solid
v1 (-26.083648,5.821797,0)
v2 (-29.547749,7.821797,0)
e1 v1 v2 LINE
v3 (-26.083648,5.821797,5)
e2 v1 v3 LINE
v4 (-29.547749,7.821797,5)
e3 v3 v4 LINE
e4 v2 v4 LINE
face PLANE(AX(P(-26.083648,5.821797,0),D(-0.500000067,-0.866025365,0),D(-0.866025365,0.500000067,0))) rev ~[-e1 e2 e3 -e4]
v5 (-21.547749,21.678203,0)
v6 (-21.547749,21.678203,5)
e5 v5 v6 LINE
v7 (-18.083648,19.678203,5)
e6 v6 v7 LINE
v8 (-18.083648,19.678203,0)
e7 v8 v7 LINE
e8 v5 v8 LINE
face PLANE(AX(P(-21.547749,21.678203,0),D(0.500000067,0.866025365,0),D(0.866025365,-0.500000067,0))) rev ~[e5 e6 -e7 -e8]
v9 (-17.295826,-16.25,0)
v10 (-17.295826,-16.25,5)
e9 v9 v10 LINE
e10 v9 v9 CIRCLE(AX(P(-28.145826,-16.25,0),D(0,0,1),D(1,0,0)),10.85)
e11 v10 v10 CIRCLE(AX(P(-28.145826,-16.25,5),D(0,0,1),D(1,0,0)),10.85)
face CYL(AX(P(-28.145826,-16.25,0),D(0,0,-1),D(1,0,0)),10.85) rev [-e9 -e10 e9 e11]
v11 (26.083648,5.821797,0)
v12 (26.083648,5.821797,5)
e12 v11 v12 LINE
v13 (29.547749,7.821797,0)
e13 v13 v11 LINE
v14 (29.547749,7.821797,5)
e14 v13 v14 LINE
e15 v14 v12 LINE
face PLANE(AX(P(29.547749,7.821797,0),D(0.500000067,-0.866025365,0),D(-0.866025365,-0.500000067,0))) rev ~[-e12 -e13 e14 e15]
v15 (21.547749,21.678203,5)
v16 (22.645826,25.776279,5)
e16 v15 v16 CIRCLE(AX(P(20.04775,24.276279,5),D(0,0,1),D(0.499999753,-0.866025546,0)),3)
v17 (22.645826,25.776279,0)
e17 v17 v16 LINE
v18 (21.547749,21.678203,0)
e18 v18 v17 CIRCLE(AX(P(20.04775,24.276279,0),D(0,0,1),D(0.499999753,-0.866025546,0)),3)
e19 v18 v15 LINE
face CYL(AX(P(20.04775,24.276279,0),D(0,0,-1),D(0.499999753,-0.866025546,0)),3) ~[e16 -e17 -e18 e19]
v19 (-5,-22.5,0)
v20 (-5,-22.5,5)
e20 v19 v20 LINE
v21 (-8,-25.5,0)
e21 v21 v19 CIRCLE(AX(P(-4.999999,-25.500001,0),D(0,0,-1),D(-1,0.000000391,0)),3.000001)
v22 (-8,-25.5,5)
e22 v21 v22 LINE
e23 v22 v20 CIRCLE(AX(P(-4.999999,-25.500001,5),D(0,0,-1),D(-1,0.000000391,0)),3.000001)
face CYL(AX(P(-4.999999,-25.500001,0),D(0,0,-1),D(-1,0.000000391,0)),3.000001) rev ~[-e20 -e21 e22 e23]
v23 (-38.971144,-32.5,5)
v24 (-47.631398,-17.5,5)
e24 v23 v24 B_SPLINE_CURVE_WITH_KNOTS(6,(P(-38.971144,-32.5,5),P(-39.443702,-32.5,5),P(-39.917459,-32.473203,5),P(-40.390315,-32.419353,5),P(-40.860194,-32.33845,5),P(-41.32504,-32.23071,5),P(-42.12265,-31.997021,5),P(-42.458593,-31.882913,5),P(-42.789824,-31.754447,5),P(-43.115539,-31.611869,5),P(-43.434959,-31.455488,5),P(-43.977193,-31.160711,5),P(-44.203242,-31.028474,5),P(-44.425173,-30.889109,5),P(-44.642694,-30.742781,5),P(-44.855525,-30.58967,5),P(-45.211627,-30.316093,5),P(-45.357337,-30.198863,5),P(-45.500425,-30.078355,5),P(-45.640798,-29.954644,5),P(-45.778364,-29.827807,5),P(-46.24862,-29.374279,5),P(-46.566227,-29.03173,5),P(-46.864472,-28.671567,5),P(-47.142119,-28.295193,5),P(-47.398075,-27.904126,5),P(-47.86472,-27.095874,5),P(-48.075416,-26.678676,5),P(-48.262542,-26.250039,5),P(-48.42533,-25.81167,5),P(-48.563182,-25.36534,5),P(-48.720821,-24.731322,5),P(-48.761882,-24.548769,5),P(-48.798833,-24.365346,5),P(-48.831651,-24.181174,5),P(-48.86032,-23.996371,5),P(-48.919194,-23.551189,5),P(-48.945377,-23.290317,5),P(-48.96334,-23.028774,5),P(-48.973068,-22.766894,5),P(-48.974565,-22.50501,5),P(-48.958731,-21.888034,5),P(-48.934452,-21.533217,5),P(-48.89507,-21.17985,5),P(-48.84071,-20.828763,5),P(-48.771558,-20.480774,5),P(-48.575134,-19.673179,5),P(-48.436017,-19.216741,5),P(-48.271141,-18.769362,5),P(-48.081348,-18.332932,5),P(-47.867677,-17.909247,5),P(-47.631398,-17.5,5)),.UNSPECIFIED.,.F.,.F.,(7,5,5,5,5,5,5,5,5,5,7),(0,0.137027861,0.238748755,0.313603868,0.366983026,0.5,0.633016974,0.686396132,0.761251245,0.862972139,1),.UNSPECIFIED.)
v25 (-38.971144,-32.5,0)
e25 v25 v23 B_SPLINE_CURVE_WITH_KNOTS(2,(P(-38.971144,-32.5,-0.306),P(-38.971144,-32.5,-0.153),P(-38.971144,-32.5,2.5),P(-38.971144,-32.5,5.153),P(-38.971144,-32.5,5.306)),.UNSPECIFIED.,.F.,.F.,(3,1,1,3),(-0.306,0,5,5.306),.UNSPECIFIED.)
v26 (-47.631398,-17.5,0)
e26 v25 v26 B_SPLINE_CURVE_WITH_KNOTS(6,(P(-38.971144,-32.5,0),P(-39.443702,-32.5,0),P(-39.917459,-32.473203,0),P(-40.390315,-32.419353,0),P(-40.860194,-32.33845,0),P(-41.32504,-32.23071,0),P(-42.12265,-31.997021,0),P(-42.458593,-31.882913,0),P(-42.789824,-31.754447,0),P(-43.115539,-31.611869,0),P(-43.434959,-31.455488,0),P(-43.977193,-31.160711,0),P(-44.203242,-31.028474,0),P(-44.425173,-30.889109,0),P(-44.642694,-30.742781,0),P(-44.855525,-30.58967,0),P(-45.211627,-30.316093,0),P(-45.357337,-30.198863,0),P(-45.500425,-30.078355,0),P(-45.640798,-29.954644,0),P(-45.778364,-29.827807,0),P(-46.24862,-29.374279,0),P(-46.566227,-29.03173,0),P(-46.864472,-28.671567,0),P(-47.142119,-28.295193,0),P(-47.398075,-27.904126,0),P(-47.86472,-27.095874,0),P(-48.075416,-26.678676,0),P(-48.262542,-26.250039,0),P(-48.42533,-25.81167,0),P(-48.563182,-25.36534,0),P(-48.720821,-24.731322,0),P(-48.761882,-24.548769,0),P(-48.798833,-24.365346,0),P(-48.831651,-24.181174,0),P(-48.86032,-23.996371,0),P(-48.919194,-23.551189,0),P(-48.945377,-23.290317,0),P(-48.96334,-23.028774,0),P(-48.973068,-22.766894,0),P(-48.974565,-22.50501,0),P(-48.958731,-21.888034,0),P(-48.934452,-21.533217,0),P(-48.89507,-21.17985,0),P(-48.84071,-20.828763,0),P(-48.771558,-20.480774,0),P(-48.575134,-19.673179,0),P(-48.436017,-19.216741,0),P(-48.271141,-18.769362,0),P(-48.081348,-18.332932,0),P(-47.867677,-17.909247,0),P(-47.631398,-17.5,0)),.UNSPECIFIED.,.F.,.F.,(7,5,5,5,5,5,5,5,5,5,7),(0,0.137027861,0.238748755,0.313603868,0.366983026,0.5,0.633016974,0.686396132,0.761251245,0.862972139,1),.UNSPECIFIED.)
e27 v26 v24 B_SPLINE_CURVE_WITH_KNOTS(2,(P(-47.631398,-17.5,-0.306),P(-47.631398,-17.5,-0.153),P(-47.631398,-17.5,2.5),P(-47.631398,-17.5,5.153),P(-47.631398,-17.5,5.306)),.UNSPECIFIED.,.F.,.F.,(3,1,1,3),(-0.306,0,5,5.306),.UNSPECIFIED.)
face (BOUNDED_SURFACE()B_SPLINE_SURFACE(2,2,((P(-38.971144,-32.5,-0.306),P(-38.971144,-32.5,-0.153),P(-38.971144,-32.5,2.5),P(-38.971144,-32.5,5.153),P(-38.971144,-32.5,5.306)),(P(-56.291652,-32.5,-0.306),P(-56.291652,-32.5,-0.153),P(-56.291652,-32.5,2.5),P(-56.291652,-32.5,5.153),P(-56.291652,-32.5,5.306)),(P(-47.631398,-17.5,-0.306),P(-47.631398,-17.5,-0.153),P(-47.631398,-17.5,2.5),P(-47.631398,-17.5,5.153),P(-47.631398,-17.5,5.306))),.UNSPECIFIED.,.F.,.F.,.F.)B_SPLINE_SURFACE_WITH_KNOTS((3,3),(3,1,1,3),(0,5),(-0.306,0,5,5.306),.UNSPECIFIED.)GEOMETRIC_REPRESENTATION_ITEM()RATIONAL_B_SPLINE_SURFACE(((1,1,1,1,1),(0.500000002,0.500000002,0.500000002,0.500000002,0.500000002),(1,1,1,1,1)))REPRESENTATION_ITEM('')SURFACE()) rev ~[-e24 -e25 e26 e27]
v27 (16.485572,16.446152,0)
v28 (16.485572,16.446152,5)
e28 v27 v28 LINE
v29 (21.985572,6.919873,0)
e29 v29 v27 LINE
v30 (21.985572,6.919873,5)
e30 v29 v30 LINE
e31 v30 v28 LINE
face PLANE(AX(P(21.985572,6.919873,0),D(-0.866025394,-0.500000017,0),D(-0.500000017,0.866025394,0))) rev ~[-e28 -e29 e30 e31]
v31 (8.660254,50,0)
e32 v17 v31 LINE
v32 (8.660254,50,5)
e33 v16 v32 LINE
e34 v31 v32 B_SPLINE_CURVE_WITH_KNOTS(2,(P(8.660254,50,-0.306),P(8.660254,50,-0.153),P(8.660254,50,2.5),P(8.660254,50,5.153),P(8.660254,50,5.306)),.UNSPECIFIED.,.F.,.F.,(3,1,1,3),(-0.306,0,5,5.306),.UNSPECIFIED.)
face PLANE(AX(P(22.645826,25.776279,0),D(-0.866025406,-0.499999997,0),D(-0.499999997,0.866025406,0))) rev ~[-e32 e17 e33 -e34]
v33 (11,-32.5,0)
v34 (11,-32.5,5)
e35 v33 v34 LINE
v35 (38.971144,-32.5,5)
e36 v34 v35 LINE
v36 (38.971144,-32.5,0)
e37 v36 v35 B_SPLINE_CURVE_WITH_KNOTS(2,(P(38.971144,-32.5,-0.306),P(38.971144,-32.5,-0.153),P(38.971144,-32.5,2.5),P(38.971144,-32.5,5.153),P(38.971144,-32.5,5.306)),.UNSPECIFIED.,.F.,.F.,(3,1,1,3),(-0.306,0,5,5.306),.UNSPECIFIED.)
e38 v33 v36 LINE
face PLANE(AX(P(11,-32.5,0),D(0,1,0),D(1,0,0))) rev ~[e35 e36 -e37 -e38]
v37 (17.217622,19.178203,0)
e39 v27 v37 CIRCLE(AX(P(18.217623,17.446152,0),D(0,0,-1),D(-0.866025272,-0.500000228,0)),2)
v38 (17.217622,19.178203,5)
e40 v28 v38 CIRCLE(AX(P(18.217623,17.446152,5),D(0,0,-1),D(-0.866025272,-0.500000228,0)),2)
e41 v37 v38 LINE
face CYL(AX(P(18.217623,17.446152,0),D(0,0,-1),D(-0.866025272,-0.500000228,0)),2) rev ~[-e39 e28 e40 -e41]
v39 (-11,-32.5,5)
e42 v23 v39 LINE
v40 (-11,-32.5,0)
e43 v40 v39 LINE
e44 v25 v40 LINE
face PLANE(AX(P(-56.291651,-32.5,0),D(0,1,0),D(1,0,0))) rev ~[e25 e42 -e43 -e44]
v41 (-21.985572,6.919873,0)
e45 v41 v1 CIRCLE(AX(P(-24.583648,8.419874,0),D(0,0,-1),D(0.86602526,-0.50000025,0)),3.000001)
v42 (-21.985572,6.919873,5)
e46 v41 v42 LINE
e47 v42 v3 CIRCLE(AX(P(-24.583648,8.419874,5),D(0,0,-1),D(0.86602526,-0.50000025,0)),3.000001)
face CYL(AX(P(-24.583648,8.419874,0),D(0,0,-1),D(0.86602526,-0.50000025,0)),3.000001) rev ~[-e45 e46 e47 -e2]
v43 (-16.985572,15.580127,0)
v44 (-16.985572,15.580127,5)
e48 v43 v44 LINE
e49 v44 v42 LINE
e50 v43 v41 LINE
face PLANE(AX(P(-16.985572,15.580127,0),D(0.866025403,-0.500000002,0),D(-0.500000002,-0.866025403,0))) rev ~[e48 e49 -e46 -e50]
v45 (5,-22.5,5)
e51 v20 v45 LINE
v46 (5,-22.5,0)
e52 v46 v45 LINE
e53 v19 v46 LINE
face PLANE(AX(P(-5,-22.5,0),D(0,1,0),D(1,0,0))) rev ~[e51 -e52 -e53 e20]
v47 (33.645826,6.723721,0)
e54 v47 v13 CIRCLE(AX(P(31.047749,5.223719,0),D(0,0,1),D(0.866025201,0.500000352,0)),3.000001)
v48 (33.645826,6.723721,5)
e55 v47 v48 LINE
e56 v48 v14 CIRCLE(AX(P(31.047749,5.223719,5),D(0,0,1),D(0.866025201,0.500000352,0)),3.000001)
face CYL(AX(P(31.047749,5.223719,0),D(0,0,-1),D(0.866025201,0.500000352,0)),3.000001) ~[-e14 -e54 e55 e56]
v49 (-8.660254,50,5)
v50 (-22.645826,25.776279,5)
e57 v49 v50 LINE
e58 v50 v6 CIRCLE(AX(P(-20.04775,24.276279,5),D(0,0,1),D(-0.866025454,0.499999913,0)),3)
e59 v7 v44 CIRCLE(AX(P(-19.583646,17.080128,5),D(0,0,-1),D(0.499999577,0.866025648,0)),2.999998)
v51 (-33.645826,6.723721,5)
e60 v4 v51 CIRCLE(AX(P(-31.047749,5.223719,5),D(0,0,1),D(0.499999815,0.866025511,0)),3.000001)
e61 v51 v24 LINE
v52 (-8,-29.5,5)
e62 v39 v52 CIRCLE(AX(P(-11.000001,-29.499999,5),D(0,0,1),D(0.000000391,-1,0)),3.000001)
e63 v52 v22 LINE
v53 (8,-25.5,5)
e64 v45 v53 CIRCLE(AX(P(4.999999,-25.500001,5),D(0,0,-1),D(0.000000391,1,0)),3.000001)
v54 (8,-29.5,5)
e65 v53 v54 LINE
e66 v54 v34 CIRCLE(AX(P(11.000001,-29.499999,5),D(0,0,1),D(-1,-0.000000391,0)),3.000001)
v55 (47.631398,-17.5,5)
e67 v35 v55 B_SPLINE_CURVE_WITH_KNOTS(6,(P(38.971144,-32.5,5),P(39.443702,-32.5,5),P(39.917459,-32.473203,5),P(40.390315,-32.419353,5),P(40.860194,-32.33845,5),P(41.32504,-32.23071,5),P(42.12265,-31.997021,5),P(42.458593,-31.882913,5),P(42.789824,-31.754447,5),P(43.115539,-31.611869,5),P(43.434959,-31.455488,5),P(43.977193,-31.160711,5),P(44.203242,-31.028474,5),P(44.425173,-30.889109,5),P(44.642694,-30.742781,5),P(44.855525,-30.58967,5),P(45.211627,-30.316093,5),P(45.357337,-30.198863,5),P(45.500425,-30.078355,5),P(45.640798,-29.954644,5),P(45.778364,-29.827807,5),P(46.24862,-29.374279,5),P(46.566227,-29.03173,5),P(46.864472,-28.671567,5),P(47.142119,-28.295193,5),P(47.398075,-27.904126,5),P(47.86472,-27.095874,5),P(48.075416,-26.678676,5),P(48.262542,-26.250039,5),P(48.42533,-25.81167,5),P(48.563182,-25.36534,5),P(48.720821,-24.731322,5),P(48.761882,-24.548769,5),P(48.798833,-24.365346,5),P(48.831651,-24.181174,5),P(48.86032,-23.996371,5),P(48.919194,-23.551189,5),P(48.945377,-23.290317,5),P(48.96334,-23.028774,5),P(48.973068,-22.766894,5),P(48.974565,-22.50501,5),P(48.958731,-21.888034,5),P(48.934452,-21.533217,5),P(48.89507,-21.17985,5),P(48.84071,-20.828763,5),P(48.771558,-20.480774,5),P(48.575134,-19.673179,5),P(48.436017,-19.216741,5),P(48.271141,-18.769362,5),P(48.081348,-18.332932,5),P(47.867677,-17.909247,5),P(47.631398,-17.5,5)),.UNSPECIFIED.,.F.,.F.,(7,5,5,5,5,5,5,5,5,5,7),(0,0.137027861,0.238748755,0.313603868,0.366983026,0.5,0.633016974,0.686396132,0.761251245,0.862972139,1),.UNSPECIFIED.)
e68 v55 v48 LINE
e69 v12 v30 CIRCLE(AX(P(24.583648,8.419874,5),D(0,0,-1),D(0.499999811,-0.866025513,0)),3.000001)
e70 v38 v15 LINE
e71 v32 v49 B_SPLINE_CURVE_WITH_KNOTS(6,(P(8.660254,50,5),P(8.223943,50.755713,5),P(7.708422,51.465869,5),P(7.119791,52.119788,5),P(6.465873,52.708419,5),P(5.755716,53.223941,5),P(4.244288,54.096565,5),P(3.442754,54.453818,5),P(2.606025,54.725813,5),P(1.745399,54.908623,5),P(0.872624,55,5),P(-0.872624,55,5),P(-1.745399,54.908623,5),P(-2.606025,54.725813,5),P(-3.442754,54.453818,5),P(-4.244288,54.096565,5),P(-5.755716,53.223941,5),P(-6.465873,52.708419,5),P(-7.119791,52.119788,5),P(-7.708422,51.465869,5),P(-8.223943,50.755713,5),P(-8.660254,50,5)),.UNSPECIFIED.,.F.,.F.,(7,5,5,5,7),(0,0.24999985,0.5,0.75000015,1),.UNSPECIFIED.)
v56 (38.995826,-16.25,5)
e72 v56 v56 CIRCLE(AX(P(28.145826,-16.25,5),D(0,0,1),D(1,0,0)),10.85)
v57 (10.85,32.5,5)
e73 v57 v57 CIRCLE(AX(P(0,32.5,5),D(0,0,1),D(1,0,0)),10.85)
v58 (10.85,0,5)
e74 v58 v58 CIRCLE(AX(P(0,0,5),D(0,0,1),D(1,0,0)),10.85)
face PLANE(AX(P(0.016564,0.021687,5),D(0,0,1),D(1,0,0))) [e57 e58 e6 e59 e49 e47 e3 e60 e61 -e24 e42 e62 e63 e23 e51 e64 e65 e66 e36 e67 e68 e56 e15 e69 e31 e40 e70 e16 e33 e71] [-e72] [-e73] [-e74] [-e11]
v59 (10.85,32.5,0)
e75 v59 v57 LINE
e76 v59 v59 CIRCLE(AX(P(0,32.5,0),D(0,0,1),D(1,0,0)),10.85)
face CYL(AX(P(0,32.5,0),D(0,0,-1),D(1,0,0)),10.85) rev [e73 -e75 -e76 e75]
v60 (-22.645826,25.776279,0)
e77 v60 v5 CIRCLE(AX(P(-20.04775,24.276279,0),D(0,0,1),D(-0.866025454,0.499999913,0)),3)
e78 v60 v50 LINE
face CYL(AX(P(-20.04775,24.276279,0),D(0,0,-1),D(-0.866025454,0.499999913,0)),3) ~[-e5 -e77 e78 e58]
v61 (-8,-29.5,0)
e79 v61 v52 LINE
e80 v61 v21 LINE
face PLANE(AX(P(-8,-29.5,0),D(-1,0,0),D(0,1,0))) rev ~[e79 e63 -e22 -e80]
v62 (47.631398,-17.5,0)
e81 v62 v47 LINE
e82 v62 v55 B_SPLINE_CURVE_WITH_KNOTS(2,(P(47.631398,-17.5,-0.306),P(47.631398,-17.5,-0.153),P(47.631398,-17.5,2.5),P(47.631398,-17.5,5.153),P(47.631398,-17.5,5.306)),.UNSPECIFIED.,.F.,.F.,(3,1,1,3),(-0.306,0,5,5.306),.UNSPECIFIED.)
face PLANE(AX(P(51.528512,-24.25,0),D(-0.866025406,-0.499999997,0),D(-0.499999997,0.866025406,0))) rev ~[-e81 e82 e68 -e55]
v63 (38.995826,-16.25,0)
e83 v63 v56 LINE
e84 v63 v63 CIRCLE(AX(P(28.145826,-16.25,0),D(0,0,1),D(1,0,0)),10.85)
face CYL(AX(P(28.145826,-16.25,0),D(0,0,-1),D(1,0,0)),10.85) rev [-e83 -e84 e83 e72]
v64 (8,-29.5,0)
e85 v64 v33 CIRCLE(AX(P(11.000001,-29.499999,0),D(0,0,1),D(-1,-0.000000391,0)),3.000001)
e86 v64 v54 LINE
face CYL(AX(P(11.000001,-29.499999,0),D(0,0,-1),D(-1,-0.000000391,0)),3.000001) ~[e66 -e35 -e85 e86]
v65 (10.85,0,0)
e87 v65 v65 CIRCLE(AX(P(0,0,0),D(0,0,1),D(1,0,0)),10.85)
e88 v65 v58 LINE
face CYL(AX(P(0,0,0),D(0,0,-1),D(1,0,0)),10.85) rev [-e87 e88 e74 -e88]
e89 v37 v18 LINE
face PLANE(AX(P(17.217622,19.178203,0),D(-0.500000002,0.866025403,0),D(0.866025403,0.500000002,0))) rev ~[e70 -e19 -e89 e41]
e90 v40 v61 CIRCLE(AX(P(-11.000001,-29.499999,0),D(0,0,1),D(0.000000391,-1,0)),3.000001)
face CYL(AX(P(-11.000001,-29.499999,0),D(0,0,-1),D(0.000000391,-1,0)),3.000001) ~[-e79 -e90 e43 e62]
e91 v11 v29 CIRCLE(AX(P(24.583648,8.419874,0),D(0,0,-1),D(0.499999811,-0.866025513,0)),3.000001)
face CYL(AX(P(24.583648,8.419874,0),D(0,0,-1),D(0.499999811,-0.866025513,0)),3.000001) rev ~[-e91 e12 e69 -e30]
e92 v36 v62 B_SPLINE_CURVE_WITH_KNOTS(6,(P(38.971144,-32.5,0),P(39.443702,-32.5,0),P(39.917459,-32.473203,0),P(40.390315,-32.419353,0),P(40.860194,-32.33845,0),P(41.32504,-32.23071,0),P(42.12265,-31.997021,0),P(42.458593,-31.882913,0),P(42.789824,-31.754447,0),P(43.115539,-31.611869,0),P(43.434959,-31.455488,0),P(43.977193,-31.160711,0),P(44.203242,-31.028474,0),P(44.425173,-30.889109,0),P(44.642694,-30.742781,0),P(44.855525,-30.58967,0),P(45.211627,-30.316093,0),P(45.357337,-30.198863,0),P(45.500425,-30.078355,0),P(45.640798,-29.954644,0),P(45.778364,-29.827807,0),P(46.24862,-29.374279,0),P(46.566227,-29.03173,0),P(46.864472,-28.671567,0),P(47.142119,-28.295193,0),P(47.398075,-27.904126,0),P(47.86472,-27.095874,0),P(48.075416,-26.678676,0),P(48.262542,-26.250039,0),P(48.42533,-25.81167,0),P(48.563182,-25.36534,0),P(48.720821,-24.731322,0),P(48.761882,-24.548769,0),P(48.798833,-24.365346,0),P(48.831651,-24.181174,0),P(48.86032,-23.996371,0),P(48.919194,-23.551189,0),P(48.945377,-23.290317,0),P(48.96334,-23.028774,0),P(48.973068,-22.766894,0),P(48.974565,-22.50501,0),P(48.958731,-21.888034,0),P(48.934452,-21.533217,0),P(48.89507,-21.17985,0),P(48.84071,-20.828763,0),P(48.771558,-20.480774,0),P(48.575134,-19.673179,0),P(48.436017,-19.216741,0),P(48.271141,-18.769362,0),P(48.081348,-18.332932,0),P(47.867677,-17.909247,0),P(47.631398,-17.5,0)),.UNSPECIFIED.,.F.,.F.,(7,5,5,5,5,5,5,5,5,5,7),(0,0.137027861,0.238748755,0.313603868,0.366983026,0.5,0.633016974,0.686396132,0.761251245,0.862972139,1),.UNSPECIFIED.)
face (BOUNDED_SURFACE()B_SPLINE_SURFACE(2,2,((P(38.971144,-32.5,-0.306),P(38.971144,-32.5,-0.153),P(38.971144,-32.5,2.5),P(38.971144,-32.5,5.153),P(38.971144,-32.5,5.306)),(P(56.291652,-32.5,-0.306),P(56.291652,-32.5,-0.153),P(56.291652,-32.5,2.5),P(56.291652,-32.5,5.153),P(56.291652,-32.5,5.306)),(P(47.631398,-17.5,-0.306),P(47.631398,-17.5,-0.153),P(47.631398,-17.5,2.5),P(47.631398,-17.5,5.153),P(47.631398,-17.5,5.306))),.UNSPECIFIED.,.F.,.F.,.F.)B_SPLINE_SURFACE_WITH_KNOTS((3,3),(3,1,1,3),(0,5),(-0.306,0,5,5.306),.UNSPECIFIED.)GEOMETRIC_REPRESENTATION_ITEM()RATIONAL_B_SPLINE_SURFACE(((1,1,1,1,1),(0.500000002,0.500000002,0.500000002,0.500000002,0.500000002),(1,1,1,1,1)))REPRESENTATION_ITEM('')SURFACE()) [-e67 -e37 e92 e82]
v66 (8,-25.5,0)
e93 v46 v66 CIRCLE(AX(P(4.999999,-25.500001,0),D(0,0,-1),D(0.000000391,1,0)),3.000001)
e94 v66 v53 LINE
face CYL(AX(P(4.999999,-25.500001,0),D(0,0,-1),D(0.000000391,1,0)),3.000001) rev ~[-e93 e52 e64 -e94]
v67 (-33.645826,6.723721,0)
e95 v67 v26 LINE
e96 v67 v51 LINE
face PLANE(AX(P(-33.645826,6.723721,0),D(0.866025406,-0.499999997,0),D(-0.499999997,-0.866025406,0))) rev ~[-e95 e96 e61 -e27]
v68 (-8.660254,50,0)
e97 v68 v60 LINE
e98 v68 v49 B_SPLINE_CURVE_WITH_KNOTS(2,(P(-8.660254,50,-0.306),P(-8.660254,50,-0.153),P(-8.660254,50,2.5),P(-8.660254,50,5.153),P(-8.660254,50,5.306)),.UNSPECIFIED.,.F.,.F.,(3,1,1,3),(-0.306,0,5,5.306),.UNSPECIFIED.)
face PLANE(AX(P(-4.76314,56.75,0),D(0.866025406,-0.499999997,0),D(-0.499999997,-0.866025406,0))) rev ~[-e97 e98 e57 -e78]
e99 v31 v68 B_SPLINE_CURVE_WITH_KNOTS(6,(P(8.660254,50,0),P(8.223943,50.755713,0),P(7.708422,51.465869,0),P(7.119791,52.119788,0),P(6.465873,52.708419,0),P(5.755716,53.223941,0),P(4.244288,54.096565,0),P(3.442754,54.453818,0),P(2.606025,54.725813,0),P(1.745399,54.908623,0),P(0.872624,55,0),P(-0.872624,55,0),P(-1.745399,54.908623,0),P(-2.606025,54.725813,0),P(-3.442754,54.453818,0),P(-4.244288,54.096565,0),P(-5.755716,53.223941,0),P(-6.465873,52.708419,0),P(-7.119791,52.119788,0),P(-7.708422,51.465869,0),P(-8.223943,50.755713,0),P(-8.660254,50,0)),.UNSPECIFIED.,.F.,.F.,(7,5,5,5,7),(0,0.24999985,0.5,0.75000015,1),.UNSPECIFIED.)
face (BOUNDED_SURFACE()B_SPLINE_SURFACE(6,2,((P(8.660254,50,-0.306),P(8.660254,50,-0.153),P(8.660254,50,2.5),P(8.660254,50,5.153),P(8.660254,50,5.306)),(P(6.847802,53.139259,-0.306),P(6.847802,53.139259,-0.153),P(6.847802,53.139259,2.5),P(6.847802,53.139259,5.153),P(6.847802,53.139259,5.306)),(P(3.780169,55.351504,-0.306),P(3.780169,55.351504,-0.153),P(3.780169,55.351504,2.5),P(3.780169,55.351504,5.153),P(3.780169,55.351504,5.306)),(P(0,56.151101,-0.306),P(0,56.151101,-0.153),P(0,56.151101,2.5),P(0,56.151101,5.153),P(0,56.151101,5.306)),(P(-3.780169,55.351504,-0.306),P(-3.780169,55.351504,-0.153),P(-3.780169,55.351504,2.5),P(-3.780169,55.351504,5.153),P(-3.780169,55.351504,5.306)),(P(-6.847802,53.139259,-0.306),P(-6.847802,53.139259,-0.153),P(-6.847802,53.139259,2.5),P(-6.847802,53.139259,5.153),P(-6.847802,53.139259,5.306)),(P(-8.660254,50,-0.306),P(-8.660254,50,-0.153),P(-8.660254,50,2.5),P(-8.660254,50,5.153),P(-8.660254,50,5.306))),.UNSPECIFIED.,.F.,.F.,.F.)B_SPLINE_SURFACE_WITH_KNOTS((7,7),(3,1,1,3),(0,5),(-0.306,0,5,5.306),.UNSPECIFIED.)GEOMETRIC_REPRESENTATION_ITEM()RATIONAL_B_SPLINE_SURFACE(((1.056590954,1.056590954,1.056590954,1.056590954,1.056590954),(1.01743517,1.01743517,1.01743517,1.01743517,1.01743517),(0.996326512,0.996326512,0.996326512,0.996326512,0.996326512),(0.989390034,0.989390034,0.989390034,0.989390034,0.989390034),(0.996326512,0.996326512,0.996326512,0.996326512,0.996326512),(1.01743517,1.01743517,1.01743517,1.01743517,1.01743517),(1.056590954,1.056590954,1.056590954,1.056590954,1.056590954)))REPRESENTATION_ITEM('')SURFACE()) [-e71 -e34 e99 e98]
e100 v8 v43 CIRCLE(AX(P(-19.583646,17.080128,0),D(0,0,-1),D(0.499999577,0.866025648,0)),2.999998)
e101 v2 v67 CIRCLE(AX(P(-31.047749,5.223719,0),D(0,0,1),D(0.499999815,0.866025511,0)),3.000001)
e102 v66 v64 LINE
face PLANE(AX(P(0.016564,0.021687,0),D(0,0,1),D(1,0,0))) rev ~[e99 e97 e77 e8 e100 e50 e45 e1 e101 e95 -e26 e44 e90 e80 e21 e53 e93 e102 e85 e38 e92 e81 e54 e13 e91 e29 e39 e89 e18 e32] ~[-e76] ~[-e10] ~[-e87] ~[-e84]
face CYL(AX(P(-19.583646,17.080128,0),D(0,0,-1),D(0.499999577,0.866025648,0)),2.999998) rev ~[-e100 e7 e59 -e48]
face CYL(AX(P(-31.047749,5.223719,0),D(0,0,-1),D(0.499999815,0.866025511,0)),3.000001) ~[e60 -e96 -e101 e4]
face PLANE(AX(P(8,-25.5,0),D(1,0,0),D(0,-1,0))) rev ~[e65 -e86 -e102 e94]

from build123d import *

# Parameters (mm, degrees)
F0_R     = 10.85
F1_DEPTH = 5
F2_R     = 10


with BuildPart() as f1:
    # F0 (on Top) → F1 (new body)
    with BuildSketch(Plane.XY):
        with BuildLine():
            Line((11, -32.5), (42.435245, -32.5))
            Line((42.435245, -32.5), (56.291651, -32.5))
            Line((56.291651, -32.5), (51.528512, -24.25))
            Line((51.528512, -24.25), (33.645826, 6.723721))
            ThreePointArc((33.645826, 6.723721), (31.824207, 8.121498), (29.547749, 7.821797))
            Line((29.547749, 7.821797), (26.083648, 5.821797))
            ThreePointArc((26.083648, 5.821797), (23.807191, 5.522096), (21.985572, 6.919873))
            Line((21.985572, 6.919873), (16.485572, 16.446152))
            ThreePointArc((16.485572, 16.446152), (16.285771, 17.963791), (17.217622, 19.178203))
            Line((17.217622, 19.178203), (21.547749, 21.678203))
            ThreePointArc((21.547749, 21.678203), (22.945527, 23.499822), (22.645826, 25.776279))
            Line((22.645826, 25.776279), (4.76314, 56.75))
            Line((4.76314, 56.75), (0, 65))
            Line((0, 65), (-4.76314, 56.75))
            Line((-4.76314, 56.75), (-22.645826, 25.776279))
            ThreePointArc((-22.645826, 25.776279), (-22.945527, 23.499822), (-21.547749, 21.678203))
            Line((-21.547749, 21.678203), (-18.083648, 19.678203))
            ThreePointArc((-18.083648, 19.678203), (-16.68587, 17.856584), (-16.985572, 15.580127))
            Line((-16.985572, 15.580127), (-21.985572, 6.919873))
            ThreePointArc((-21.985572, 6.919873), (-23.807191, 5.522096), (-26.083648, 5.821797))
            Line((-26.083648, 5.821797), (-29.547749, 7.821797))
            ThreePointArc((-29.547749, 7.821797), (-31.824207, 8.121498), (-33.645826, 6.723721))
            Line((-33.645826, 6.723721), (-51.528512, -24.25))
            Line((-51.528512, -24.25), (-56.291651, -32.5))
            Line((-56.291651, -32.5), (-21.644953, -32.5))
            Line((-21.644953, -32.5), (-11, -32.5))
            ThreePointArc((-11, -32.5), (-8.87868, -31.62132), (-8, -29.5))
            Line((-8, -29.5), (-8, -25.5))
            ThreePointArc((-8, -25.5), (-7.12132, -23.37868), (-5, -22.5))
            Line((-5, -22.5), (5, -22.5))
            ThreePointArc((5, -22.5), (7.12132, -23.37868), (8, -25.5))
            Line((8, -25.5), (8, -29.5))
            ThreePointArc((8, -29.5), (8.87868, -31.62132), (11, -32.5))
        make_face()
        with Locations((-28.145826, -16.25)):
            Circle(F0_R, mode=Mode.SUBTRACT)
        with Locations((28.145826, -16.25)):
            Circle(F0_R, mode=Mode.SUBTRACT)
        Circle(F0_R, mode=Mode.SUBTRACT)
        with Locations((0, 32.5)):
            Circle(F0_R, mode=Mode.SUBTRACT)
    extrude(amount=F1_DEPTH)

    # F2
    f2_edges = [f1.edges().sort_by_distance(p)[0] for p in [
        (56.291651, -32.5, 2.5),
        (0, 65, 2.5),
        (-56.291651, -32.5, 2.5),
    ]]
    fillet(f2_edges, radius=F2_R)


solid = f1.part
